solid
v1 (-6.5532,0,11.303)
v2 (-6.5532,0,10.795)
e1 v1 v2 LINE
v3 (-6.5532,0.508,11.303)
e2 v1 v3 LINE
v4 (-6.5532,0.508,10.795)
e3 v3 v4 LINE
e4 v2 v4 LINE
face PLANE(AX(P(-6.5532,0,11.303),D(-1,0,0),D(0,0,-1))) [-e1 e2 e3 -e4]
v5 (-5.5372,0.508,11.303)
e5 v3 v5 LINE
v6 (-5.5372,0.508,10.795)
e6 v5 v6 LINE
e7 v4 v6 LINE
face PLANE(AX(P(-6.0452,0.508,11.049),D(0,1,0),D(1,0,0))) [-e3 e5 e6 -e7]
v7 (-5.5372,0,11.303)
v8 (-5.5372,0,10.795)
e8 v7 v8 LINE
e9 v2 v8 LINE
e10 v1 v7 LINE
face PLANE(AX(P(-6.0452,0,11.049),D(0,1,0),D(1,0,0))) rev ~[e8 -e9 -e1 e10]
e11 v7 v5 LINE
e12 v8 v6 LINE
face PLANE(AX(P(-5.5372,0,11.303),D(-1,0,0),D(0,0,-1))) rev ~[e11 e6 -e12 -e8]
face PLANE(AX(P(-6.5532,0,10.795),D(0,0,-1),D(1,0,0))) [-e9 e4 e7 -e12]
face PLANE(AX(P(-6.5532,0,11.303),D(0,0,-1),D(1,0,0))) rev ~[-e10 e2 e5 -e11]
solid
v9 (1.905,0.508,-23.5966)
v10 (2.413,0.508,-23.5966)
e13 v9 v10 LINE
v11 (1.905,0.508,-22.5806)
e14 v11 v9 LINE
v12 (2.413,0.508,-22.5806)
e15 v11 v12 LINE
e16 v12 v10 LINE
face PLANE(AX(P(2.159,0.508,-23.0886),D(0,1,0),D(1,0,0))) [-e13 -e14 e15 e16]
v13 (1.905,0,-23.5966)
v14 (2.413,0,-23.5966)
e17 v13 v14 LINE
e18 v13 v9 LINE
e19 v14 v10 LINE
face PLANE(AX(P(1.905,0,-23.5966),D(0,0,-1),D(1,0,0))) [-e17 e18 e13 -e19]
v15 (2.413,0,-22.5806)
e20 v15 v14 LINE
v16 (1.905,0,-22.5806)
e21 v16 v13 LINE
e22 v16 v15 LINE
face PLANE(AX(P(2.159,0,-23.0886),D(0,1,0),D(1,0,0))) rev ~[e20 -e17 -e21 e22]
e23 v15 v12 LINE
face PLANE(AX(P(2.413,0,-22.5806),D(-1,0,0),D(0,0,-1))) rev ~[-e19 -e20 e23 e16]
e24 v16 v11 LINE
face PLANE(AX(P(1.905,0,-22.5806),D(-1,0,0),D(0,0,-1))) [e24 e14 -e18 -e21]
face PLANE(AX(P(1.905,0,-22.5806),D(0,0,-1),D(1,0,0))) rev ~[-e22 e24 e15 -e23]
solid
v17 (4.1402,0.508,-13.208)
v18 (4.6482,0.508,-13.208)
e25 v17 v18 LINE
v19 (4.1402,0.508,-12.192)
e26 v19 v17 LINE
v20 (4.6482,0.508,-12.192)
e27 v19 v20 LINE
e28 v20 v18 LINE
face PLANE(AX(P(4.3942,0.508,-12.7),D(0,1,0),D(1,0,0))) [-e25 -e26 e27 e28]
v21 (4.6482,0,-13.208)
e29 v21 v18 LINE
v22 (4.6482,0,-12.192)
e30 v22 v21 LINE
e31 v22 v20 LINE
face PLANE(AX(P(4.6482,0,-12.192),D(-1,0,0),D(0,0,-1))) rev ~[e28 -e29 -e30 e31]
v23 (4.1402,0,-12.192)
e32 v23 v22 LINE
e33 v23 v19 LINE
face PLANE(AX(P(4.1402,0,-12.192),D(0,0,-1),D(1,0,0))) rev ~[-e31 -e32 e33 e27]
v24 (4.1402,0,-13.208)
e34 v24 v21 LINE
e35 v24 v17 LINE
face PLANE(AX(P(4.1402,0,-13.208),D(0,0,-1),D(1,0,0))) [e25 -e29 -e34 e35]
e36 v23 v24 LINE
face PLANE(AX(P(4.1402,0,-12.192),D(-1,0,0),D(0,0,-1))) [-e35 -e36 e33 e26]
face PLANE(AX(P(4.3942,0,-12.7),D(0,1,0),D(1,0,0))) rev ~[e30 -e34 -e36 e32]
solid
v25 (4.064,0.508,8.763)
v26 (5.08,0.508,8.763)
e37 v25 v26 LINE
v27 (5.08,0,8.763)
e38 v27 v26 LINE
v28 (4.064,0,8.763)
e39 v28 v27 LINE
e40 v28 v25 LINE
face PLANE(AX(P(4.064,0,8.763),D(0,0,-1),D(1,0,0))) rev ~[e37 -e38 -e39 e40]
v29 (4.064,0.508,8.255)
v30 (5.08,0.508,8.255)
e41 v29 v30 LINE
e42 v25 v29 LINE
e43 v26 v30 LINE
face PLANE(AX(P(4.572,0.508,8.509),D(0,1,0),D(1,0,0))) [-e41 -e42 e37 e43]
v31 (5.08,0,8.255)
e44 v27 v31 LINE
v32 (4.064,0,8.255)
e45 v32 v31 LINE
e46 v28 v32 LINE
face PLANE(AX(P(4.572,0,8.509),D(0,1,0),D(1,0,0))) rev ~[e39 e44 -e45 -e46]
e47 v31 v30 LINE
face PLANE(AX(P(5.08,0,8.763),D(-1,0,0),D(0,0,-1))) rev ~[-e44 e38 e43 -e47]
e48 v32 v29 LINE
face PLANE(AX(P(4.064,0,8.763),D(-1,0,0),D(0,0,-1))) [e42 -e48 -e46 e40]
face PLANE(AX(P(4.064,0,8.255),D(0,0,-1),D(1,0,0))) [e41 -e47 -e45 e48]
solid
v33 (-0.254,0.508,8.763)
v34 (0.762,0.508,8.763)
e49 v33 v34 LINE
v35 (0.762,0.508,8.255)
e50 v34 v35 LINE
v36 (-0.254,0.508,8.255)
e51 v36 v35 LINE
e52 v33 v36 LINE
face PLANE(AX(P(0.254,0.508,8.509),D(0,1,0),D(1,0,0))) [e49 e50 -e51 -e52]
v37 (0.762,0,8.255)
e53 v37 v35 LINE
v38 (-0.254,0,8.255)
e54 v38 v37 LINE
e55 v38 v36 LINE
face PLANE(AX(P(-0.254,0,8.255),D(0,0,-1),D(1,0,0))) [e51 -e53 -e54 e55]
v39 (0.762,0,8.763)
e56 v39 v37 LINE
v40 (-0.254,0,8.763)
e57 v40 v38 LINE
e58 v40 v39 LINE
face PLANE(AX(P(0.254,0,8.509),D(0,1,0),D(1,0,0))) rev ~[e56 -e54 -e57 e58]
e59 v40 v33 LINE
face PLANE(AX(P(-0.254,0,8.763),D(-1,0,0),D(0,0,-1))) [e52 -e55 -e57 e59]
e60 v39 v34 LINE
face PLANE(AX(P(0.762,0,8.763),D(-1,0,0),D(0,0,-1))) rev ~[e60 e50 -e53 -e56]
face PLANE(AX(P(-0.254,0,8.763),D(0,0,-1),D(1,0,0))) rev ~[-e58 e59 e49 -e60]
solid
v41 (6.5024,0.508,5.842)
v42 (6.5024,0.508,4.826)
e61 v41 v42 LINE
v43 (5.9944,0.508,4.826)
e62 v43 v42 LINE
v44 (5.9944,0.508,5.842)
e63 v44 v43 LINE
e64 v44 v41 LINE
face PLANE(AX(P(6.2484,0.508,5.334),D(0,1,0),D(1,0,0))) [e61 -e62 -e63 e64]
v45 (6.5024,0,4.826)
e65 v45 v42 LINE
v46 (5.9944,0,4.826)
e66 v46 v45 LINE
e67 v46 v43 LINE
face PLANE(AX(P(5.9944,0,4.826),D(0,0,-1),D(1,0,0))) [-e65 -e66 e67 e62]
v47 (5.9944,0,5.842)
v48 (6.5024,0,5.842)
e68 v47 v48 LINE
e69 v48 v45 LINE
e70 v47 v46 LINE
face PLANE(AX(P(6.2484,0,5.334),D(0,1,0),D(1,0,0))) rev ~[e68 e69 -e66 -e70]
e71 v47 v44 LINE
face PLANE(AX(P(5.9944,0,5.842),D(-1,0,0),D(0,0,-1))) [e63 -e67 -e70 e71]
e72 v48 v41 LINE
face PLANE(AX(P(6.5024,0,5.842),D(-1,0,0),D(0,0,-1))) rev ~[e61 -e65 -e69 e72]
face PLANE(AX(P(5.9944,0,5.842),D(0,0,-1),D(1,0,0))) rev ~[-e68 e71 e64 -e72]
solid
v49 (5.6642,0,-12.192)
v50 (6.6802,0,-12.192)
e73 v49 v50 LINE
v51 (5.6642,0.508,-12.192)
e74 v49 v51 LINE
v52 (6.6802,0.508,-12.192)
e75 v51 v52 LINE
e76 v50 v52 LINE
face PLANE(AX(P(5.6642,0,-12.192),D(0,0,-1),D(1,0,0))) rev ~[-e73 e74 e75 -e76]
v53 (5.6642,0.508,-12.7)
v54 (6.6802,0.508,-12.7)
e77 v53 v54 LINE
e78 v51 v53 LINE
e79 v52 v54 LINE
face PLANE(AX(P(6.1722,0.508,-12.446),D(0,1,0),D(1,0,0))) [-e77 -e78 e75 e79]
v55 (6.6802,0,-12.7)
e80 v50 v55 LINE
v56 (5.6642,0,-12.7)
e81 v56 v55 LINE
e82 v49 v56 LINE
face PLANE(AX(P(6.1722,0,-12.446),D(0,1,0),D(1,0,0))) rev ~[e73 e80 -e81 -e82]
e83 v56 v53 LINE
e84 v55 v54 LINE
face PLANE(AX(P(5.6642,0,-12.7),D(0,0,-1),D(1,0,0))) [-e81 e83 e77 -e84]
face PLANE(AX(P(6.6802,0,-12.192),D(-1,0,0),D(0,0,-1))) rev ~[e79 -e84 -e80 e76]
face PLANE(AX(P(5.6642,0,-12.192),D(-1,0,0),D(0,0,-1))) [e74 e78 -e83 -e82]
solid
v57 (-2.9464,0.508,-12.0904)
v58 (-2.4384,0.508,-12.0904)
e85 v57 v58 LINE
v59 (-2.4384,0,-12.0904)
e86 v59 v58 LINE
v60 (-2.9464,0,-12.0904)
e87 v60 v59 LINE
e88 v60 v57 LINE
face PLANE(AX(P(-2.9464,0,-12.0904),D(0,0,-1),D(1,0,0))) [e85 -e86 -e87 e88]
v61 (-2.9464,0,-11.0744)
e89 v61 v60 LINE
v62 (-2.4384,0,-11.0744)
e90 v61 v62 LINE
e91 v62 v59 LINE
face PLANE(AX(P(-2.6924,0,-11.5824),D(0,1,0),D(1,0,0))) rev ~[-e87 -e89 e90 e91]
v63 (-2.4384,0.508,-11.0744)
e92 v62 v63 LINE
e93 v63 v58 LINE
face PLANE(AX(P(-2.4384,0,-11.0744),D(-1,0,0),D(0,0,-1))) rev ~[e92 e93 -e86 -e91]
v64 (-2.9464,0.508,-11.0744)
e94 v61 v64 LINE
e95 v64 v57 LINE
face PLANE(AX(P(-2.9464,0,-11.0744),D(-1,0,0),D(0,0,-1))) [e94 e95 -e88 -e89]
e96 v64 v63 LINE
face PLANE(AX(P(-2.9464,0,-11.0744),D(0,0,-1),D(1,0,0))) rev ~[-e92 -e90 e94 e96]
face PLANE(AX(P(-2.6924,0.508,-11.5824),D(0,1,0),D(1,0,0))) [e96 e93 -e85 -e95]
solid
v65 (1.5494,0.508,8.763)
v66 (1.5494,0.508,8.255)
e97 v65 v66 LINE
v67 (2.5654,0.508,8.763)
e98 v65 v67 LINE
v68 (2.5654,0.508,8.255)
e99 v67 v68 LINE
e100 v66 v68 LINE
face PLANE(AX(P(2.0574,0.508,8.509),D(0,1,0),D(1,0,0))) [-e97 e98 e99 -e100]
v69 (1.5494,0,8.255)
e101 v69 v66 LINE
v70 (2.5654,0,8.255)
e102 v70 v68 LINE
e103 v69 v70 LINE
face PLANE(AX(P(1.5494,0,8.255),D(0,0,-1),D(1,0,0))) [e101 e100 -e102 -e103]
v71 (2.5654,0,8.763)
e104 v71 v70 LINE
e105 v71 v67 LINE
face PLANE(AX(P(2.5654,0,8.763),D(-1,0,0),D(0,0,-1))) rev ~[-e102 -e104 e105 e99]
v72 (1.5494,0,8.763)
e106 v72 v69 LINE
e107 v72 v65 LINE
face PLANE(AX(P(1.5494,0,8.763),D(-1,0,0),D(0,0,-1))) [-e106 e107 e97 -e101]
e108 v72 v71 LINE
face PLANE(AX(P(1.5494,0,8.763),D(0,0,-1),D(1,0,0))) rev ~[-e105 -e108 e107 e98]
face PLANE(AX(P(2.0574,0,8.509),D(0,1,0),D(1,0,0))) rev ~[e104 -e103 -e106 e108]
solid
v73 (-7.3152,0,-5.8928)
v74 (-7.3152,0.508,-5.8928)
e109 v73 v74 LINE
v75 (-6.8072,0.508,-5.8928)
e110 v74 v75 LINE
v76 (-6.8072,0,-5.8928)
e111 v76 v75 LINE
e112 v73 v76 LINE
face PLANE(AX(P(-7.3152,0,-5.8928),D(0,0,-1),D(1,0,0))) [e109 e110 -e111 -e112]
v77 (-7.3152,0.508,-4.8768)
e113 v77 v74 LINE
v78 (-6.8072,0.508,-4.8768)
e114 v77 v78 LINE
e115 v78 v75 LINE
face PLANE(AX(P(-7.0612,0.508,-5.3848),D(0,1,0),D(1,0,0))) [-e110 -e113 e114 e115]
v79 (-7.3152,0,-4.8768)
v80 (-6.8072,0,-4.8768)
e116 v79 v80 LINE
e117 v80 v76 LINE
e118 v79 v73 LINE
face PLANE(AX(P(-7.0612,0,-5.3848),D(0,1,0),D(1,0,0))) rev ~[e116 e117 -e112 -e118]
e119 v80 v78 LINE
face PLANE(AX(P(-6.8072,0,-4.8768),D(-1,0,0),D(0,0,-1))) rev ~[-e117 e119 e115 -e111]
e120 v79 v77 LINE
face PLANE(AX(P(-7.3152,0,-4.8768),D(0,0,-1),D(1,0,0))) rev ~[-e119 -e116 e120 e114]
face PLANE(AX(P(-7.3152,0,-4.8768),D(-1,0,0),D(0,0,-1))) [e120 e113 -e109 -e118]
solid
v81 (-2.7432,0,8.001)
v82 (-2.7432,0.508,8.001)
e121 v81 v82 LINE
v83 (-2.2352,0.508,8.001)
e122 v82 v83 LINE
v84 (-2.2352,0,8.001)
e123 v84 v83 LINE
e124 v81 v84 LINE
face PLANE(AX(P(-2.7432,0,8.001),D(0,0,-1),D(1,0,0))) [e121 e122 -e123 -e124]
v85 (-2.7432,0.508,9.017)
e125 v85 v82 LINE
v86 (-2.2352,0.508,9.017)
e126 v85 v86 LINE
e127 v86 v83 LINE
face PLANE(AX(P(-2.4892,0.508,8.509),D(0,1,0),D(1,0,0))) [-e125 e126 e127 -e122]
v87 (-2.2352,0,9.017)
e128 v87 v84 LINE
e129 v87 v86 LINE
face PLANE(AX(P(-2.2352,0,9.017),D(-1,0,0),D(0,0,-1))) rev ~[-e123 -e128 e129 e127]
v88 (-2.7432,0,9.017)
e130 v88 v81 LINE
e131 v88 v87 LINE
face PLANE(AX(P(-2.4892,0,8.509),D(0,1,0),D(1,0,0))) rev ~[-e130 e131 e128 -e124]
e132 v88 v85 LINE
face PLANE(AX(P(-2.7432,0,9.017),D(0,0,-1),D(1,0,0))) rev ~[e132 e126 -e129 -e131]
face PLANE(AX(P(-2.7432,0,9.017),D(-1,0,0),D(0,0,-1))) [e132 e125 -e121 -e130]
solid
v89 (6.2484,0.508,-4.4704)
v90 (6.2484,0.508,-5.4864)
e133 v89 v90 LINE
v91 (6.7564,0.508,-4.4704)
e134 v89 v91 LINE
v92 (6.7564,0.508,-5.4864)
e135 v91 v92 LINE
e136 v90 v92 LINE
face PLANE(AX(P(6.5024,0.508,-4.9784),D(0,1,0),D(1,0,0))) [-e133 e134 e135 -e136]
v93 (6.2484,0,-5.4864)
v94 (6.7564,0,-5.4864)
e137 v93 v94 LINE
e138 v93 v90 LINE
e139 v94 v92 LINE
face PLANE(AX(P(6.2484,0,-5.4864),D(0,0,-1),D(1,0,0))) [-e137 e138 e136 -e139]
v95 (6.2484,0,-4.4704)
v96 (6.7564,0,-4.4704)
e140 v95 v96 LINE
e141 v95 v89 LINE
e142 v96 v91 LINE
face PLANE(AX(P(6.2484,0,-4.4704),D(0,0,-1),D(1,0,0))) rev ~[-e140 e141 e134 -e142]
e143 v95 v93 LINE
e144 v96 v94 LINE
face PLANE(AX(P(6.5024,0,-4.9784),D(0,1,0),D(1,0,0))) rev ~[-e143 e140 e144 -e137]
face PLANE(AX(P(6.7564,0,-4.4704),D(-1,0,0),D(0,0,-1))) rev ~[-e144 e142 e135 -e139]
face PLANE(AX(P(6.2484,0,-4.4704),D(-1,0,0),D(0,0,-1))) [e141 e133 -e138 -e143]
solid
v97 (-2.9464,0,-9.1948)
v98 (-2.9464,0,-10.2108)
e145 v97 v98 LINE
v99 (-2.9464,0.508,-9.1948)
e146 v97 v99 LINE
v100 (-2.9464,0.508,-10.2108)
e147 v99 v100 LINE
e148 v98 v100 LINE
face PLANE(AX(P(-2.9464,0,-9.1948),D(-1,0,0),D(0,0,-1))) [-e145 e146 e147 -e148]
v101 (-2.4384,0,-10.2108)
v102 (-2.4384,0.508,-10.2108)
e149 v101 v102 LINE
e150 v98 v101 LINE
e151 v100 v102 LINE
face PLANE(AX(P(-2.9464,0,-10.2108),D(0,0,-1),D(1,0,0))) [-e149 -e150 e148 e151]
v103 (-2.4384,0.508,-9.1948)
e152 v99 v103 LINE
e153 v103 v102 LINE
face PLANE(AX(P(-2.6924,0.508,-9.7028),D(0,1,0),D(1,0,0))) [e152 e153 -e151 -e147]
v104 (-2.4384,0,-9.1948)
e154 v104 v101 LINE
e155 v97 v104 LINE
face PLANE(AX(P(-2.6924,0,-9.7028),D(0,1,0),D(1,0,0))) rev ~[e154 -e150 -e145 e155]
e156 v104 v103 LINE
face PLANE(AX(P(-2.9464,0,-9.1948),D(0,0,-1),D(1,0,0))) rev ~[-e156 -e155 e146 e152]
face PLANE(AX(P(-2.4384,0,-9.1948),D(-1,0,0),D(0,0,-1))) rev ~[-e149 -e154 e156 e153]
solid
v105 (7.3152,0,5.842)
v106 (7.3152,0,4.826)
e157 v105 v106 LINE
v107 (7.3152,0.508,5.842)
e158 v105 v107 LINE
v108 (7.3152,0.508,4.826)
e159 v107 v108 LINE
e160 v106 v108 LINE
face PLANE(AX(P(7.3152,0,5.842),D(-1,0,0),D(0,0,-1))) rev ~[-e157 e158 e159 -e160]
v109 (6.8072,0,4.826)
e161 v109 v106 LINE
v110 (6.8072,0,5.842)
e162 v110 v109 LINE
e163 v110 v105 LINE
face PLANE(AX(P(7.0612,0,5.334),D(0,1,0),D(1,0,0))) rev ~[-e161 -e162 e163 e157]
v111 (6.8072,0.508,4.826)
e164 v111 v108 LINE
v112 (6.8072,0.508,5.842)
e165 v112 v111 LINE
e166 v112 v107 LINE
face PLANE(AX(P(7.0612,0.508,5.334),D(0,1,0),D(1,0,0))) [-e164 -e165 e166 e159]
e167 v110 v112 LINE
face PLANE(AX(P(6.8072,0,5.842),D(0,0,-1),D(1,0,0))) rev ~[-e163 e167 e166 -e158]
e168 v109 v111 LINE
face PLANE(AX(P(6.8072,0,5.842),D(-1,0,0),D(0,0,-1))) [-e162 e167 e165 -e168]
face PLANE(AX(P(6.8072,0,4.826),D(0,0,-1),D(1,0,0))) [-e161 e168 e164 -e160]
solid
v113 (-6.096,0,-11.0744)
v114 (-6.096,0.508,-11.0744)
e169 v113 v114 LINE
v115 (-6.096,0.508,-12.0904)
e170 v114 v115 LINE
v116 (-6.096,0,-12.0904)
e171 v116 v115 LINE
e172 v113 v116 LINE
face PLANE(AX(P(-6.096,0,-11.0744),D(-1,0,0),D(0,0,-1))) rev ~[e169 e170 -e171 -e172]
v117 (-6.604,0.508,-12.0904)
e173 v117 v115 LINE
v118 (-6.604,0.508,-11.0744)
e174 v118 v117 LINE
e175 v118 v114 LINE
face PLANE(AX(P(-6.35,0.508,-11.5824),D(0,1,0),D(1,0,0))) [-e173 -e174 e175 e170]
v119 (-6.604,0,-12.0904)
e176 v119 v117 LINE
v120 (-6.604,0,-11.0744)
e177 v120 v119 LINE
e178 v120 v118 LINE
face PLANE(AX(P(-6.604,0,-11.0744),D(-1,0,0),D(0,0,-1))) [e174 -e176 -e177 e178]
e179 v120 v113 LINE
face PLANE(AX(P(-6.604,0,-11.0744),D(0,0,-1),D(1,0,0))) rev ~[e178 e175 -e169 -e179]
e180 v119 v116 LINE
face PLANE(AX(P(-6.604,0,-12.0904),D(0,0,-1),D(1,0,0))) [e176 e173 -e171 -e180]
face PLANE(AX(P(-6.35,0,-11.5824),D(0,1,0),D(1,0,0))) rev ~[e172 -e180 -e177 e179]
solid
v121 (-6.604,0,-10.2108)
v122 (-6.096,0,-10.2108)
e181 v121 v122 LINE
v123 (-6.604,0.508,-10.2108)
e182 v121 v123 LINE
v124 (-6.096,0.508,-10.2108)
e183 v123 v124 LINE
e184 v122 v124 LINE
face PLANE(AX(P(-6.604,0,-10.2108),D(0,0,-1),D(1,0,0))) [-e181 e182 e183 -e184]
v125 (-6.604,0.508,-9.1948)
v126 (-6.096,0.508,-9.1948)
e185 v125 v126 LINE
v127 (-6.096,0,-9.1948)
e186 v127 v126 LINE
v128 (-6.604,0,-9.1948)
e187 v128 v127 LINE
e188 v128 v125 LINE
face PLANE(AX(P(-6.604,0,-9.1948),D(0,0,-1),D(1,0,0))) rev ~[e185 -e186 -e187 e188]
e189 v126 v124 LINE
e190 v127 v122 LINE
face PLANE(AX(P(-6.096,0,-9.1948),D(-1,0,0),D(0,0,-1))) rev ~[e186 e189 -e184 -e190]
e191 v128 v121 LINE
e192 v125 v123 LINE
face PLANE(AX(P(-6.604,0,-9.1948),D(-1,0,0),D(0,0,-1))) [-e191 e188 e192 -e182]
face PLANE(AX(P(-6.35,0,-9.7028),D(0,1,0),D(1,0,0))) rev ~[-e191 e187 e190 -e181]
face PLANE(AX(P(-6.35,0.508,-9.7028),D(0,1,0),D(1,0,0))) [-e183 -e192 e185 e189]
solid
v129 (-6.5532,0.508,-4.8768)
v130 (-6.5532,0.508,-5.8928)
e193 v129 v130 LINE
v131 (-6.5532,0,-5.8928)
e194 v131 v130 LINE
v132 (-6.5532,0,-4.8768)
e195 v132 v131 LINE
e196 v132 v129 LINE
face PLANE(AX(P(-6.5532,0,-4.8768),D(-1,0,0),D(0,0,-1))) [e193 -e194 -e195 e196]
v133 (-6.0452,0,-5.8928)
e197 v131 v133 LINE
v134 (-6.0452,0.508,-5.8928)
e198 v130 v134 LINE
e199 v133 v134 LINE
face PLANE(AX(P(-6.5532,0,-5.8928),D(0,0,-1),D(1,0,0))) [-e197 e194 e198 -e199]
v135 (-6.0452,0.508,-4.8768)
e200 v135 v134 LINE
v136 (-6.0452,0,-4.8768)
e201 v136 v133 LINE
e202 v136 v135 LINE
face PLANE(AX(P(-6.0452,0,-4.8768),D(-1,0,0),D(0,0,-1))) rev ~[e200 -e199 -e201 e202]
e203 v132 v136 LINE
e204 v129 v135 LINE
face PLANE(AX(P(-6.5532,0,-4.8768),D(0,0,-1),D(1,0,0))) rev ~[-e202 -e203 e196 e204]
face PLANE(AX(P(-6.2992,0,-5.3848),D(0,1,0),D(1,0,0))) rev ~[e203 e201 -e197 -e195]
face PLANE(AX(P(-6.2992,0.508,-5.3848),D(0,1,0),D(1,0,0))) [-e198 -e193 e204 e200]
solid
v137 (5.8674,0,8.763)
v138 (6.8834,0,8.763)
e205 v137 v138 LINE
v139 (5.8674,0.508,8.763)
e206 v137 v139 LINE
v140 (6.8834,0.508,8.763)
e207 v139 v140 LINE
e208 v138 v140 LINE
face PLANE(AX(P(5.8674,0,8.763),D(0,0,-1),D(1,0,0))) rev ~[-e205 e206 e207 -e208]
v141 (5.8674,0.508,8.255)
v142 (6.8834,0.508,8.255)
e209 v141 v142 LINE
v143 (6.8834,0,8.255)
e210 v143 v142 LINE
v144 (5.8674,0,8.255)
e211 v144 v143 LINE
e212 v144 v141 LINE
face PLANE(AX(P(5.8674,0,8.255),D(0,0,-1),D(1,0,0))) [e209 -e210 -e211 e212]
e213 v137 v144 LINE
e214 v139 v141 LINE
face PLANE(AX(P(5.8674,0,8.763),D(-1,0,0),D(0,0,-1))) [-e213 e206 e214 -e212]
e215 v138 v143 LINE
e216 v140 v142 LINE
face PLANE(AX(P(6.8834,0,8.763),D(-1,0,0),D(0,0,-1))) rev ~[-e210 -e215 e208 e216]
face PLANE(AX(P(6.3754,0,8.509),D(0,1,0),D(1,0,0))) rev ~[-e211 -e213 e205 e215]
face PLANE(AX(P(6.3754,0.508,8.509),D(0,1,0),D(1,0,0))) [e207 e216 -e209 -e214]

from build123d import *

# Parameters (mm, degrees)
SKETCH2_W              = 1.016
SKETCH2_H              = 0.508
BOSS_EXTRUDE1_DEPTH    = 0.508
BOSS_EXTRUDE1_2_DEPTH  = 0.508
BOSS_EXTRUDE1_3_DEPTH  = 0.508
BOSS_EXTRUDE1_4_DEPTH  = 0.508
SKETCH2_W_2            = 0.508
SKETCH2_H_2            = 1.016
BOSS_EXTRUDE1_5_DEPTH  = 0.508
BOSS_EXTRUDE1_6_DEPTH  = 0.508
BOSS_EXTRUDE1_7_DEPTH  = 0.508
BOSS_EXTRUDE1_8_DEPTH  = 0.508
BOSS_EXTRUDE1_9_DEPTH  = 0.508
BOSS_EXTRUDE1_10_DEPTH = 0.508
BOSS_EXTRUDE1_11_DEPTH = 0.508
BOSS_EXTRUDE1_12_DEPTH = 0.508
BOSS_EXTRUDE1_13_DEPTH = 0.508
BOSS_EXTRUDE1_14_DEPTH = 0.508
BOSS_EXTRUDE1_15_DEPTH = 0.508
BOSS_EXTRUDE1_16_DEPTH = 0.508
BOSS_EXTRUDE1_17_DEPTH = 0.508
BOSS_EXTRUDE1_18_DEPTH = 0.508


with BuildPart() as part:
    # Sketch2 → Boss-Extrude1 (new body)
    with BuildSketch(Plane(origin=(0, 0, 0), x_dir=(1, 0, 0), z_dir=(0, 1, 0))):
        with Locations((6.3754, -8.509)):
            Rectangle(SKETCH2_W, SKETCH2_H)
    extrude(amount=BOSS_EXTRUDE1_DEPTH)


with BuildPart() as body_2:
    # Sketch2 → Boss-Extrude1 2 (new body)
    with BuildSketch(Plane(origin=(0, 0, 0), x_dir=(1, 0, 0), z_dir=(0, 1, 0))):
        with Locations((4.572, -8.509)):
            Rectangle(SKETCH2_W, SKETCH2_H)
    extrude(amount=BOSS_EXTRUDE1_2_DEPTH)


with BuildPart() as body_3:
    # Sketch2 → Boss-Extrude1 3 (new body)
    with BuildSketch(Plane(origin=(0, 0, 0), x_dir=(1, 0, 0), z_dir=(0, 1, 0))):
        with Locations((2.0574, -8.509)):
            Rectangle(SKETCH2_W, SKETCH2_H)
    extrude(amount=BOSS_EXTRUDE1_3_DEPTH)


with BuildPart() as body_4:
    # Sketch2 → Boss-Extrude1 4 (new body)
    with BuildSketch(Plane(origin=(0, 0, 0), x_dir=(1, 0, 0), z_dir=(0, 1, 0))):
        with Locations((0.254, -8.509)):
            Rectangle(SKETCH2_W, SKETCH2_H)
    extrude(amount=BOSS_EXTRUDE1_4_DEPTH)


with BuildPart() as body_5:
    # Sketch2 → Boss-Extrude1 5 (new body)
    with BuildSketch(Plane(origin=(0, 0, 0), x_dir=(1, 0, 0), z_dir=(0, 1, 0))):
        with Locations((-2.4892, -8.509)):
            Rectangle(SKETCH2_W_2, SKETCH2_H_2)
    extrude(amount=BOSS_EXTRUDE1_5_DEPTH)


with BuildPart() as body_6:
    # Sketch2 → Boss-Extrude1 6 (new body)
    with BuildSketch(Plane(origin=(0, 0, 0), x_dir=(1, 0, 0), z_dir=(0, 1, 0))):
        with Locations((-6.0452, -11.049)):
            Rectangle(SKETCH2_W, SKETCH2_H)
    extrude(amount=BOSS_EXTRUDE1_6_DEPTH)


with BuildPart() as body_7:
    # Sketch2 → Boss-Extrude1 7 (new body)
    with BuildSketch(Plane(origin=(0, 0, 0), x_dir=(1, 0, 0), z_dir=(0, 1, 0))):
        with Locations((6.2484, -5.334)):
            Rectangle(SKETCH2_W_2, SKETCH2_H_2)
    extrude(amount=BOSS_EXTRUDE1_7_DEPTH)


with BuildPart() as body_8:
    # Sketch2 → Boss-Extrude1 8 (new body)
    with BuildSketch(Plane(origin=(0, 0, 0), x_dir=(1, 0, 0), z_dir=(0, 1, 0))):
        with Locations((7.0612, -5.334)):
            Rectangle(SKETCH2_W_2, SKETCH2_H_2)
    extrude(amount=BOSS_EXTRUDE1_8_DEPTH)


with BuildPart() as body_9:
    # Sketch2 → Boss-Extrude1 9 (new body)
    with BuildSketch(Plane(origin=(0, 0, 0), x_dir=(1, 0, 0), z_dir=(0, 1, 0))):
        with Locations((6.5024, 4.9784)):
            Rectangle(SKETCH2_W_2, SKETCH2_H_2)
    extrude(amount=BOSS_EXTRUDE1_9_DEPTH)


with BuildPart() as body_10:
    # Sketch2 → Boss-Extrude1 10 (new body)
    with BuildSketch(Plane(origin=(0, 0, 0), x_dir=(1, 0, 0), z_dir=(0, 1, 0))):
        with Locations((-6.2992, 5.3848)):
            Rectangle(SKETCH2_W_2, SKETCH2_H_2)
    extrude(amount=BOSS_EXTRUDE1_10_DEPTH)


with BuildPart() as body_11:
    # Sketch2 → Boss-Extrude1 11 (new body)
    with BuildSketch(Plane(origin=(0, 0, 0), x_dir=(1, 0, 0), z_dir=(0, 1, 0))):
        with Locations((-7.0612, 5.3848)):
            Rectangle(SKETCH2_W_2, SKETCH2_H_2)
    extrude(amount=BOSS_EXTRUDE1_11_DEPTH)


with BuildPart() as body_12:
    # Sketch2 → Boss-Extrude1 12 (new body)
    with BuildSketch(Plane(origin=(0, 0, 0), x_dir=(1, 0, 0), z_dir=(0, 1, 0))):
        with Locations((-6.35, 9.7028)):
            Rectangle(SKETCH2_W_2, SKETCH2_H_2)
    extrude(amount=BOSS_EXTRUDE1_12_DEPTH)


with BuildPart() as body_13:
    # Sketch2 → Boss-Extrude1 13 (new body)
    with BuildSketch(Plane(origin=(0, 0, 0), x_dir=(1, 0, 0), z_dir=(0, 1, 0))):
        with Locations((-6.35, 11.5824)):
            Rectangle(SKETCH2_W_2, SKETCH2_H_2)
    extrude(amount=BOSS_EXTRUDE1_13_DEPTH)


with BuildPart() as body_14:
    # Sketch2 → Boss-Extrude1 14 (new body)
    with BuildSketch(Plane(origin=(0, 0, 0), x_dir=(1, 0, 0), z_dir=(0, 1, 0))):
        with Locations((-2.6924, 11.5824)):
            Rectangle(SKETCH2_W_2, SKETCH2_H_2)
    extrude(amount=BOSS_EXTRUDE1_14_DEPTH)


with BuildPart() as body_15:
    # Sketch2 → Boss-Extrude1 15 (new body)
    with BuildSketch(Plane(origin=(0, 0, 0), x_dir=(1, 0, 0), z_dir=(0, 1, 0))):
        with Locations((-2.6924, 9.7028)):
            Rectangle(SKETCH2_W_2, SKETCH2_H_2)
    extrude(amount=BOSS_EXTRUDE1_15_DEPTH)


with BuildPart() as body_16:
    # Sketch2 → Boss-Extrude1 16 (new body)
    with BuildSketch(Plane(origin=(0, 0, 0), x_dir=(1, 0, 0), z_dir=(0, 1, 0))):
        with Locations((6.1722, 12.446)):
            Rectangle(SKETCH2_W, SKETCH2_H)
    extrude(amount=BOSS_EXTRUDE1_16_DEPTH)


with BuildPart() as body_17:
    # Sketch2 → Boss-Extrude1 17 (new body)
    with BuildSketch(Plane(origin=(0, 0, 0), x_dir=(1, 0, 0), z_dir=(0, 1, 0))):
        with Locations((4.3942, 12.7)):
            Rectangle(SKETCH2_W_2, SKETCH2_H_2)
    extrude(amount=BOSS_EXTRUDE1_17_DEPTH)


with BuildPart() as body_18:
    # Sketch2 → Boss-Extrude1 18 (new body)
    with BuildSketch(Plane(origin=(0, 0, 0), x_dir=(1, 0, 0), z_dir=(0, 1, 0))):
        with Locations((2.159, 23.0886)):
            Rectangle(SKETCH2_W_2, SKETCH2_H_2)
    extrude(amount=BOSS_EXTRUDE1_18_DEPTH)


solid = Compound([part.part, body_2.part, body_3.part, body_4.part, body_5.part, body_6.part, body_7.part, body_8.part, body_9.part, body_10.part, body_11.part, body_12.part, body_13.part, body_14.part, body_15.part, body_16.part, body_17.part, body_18.part])
